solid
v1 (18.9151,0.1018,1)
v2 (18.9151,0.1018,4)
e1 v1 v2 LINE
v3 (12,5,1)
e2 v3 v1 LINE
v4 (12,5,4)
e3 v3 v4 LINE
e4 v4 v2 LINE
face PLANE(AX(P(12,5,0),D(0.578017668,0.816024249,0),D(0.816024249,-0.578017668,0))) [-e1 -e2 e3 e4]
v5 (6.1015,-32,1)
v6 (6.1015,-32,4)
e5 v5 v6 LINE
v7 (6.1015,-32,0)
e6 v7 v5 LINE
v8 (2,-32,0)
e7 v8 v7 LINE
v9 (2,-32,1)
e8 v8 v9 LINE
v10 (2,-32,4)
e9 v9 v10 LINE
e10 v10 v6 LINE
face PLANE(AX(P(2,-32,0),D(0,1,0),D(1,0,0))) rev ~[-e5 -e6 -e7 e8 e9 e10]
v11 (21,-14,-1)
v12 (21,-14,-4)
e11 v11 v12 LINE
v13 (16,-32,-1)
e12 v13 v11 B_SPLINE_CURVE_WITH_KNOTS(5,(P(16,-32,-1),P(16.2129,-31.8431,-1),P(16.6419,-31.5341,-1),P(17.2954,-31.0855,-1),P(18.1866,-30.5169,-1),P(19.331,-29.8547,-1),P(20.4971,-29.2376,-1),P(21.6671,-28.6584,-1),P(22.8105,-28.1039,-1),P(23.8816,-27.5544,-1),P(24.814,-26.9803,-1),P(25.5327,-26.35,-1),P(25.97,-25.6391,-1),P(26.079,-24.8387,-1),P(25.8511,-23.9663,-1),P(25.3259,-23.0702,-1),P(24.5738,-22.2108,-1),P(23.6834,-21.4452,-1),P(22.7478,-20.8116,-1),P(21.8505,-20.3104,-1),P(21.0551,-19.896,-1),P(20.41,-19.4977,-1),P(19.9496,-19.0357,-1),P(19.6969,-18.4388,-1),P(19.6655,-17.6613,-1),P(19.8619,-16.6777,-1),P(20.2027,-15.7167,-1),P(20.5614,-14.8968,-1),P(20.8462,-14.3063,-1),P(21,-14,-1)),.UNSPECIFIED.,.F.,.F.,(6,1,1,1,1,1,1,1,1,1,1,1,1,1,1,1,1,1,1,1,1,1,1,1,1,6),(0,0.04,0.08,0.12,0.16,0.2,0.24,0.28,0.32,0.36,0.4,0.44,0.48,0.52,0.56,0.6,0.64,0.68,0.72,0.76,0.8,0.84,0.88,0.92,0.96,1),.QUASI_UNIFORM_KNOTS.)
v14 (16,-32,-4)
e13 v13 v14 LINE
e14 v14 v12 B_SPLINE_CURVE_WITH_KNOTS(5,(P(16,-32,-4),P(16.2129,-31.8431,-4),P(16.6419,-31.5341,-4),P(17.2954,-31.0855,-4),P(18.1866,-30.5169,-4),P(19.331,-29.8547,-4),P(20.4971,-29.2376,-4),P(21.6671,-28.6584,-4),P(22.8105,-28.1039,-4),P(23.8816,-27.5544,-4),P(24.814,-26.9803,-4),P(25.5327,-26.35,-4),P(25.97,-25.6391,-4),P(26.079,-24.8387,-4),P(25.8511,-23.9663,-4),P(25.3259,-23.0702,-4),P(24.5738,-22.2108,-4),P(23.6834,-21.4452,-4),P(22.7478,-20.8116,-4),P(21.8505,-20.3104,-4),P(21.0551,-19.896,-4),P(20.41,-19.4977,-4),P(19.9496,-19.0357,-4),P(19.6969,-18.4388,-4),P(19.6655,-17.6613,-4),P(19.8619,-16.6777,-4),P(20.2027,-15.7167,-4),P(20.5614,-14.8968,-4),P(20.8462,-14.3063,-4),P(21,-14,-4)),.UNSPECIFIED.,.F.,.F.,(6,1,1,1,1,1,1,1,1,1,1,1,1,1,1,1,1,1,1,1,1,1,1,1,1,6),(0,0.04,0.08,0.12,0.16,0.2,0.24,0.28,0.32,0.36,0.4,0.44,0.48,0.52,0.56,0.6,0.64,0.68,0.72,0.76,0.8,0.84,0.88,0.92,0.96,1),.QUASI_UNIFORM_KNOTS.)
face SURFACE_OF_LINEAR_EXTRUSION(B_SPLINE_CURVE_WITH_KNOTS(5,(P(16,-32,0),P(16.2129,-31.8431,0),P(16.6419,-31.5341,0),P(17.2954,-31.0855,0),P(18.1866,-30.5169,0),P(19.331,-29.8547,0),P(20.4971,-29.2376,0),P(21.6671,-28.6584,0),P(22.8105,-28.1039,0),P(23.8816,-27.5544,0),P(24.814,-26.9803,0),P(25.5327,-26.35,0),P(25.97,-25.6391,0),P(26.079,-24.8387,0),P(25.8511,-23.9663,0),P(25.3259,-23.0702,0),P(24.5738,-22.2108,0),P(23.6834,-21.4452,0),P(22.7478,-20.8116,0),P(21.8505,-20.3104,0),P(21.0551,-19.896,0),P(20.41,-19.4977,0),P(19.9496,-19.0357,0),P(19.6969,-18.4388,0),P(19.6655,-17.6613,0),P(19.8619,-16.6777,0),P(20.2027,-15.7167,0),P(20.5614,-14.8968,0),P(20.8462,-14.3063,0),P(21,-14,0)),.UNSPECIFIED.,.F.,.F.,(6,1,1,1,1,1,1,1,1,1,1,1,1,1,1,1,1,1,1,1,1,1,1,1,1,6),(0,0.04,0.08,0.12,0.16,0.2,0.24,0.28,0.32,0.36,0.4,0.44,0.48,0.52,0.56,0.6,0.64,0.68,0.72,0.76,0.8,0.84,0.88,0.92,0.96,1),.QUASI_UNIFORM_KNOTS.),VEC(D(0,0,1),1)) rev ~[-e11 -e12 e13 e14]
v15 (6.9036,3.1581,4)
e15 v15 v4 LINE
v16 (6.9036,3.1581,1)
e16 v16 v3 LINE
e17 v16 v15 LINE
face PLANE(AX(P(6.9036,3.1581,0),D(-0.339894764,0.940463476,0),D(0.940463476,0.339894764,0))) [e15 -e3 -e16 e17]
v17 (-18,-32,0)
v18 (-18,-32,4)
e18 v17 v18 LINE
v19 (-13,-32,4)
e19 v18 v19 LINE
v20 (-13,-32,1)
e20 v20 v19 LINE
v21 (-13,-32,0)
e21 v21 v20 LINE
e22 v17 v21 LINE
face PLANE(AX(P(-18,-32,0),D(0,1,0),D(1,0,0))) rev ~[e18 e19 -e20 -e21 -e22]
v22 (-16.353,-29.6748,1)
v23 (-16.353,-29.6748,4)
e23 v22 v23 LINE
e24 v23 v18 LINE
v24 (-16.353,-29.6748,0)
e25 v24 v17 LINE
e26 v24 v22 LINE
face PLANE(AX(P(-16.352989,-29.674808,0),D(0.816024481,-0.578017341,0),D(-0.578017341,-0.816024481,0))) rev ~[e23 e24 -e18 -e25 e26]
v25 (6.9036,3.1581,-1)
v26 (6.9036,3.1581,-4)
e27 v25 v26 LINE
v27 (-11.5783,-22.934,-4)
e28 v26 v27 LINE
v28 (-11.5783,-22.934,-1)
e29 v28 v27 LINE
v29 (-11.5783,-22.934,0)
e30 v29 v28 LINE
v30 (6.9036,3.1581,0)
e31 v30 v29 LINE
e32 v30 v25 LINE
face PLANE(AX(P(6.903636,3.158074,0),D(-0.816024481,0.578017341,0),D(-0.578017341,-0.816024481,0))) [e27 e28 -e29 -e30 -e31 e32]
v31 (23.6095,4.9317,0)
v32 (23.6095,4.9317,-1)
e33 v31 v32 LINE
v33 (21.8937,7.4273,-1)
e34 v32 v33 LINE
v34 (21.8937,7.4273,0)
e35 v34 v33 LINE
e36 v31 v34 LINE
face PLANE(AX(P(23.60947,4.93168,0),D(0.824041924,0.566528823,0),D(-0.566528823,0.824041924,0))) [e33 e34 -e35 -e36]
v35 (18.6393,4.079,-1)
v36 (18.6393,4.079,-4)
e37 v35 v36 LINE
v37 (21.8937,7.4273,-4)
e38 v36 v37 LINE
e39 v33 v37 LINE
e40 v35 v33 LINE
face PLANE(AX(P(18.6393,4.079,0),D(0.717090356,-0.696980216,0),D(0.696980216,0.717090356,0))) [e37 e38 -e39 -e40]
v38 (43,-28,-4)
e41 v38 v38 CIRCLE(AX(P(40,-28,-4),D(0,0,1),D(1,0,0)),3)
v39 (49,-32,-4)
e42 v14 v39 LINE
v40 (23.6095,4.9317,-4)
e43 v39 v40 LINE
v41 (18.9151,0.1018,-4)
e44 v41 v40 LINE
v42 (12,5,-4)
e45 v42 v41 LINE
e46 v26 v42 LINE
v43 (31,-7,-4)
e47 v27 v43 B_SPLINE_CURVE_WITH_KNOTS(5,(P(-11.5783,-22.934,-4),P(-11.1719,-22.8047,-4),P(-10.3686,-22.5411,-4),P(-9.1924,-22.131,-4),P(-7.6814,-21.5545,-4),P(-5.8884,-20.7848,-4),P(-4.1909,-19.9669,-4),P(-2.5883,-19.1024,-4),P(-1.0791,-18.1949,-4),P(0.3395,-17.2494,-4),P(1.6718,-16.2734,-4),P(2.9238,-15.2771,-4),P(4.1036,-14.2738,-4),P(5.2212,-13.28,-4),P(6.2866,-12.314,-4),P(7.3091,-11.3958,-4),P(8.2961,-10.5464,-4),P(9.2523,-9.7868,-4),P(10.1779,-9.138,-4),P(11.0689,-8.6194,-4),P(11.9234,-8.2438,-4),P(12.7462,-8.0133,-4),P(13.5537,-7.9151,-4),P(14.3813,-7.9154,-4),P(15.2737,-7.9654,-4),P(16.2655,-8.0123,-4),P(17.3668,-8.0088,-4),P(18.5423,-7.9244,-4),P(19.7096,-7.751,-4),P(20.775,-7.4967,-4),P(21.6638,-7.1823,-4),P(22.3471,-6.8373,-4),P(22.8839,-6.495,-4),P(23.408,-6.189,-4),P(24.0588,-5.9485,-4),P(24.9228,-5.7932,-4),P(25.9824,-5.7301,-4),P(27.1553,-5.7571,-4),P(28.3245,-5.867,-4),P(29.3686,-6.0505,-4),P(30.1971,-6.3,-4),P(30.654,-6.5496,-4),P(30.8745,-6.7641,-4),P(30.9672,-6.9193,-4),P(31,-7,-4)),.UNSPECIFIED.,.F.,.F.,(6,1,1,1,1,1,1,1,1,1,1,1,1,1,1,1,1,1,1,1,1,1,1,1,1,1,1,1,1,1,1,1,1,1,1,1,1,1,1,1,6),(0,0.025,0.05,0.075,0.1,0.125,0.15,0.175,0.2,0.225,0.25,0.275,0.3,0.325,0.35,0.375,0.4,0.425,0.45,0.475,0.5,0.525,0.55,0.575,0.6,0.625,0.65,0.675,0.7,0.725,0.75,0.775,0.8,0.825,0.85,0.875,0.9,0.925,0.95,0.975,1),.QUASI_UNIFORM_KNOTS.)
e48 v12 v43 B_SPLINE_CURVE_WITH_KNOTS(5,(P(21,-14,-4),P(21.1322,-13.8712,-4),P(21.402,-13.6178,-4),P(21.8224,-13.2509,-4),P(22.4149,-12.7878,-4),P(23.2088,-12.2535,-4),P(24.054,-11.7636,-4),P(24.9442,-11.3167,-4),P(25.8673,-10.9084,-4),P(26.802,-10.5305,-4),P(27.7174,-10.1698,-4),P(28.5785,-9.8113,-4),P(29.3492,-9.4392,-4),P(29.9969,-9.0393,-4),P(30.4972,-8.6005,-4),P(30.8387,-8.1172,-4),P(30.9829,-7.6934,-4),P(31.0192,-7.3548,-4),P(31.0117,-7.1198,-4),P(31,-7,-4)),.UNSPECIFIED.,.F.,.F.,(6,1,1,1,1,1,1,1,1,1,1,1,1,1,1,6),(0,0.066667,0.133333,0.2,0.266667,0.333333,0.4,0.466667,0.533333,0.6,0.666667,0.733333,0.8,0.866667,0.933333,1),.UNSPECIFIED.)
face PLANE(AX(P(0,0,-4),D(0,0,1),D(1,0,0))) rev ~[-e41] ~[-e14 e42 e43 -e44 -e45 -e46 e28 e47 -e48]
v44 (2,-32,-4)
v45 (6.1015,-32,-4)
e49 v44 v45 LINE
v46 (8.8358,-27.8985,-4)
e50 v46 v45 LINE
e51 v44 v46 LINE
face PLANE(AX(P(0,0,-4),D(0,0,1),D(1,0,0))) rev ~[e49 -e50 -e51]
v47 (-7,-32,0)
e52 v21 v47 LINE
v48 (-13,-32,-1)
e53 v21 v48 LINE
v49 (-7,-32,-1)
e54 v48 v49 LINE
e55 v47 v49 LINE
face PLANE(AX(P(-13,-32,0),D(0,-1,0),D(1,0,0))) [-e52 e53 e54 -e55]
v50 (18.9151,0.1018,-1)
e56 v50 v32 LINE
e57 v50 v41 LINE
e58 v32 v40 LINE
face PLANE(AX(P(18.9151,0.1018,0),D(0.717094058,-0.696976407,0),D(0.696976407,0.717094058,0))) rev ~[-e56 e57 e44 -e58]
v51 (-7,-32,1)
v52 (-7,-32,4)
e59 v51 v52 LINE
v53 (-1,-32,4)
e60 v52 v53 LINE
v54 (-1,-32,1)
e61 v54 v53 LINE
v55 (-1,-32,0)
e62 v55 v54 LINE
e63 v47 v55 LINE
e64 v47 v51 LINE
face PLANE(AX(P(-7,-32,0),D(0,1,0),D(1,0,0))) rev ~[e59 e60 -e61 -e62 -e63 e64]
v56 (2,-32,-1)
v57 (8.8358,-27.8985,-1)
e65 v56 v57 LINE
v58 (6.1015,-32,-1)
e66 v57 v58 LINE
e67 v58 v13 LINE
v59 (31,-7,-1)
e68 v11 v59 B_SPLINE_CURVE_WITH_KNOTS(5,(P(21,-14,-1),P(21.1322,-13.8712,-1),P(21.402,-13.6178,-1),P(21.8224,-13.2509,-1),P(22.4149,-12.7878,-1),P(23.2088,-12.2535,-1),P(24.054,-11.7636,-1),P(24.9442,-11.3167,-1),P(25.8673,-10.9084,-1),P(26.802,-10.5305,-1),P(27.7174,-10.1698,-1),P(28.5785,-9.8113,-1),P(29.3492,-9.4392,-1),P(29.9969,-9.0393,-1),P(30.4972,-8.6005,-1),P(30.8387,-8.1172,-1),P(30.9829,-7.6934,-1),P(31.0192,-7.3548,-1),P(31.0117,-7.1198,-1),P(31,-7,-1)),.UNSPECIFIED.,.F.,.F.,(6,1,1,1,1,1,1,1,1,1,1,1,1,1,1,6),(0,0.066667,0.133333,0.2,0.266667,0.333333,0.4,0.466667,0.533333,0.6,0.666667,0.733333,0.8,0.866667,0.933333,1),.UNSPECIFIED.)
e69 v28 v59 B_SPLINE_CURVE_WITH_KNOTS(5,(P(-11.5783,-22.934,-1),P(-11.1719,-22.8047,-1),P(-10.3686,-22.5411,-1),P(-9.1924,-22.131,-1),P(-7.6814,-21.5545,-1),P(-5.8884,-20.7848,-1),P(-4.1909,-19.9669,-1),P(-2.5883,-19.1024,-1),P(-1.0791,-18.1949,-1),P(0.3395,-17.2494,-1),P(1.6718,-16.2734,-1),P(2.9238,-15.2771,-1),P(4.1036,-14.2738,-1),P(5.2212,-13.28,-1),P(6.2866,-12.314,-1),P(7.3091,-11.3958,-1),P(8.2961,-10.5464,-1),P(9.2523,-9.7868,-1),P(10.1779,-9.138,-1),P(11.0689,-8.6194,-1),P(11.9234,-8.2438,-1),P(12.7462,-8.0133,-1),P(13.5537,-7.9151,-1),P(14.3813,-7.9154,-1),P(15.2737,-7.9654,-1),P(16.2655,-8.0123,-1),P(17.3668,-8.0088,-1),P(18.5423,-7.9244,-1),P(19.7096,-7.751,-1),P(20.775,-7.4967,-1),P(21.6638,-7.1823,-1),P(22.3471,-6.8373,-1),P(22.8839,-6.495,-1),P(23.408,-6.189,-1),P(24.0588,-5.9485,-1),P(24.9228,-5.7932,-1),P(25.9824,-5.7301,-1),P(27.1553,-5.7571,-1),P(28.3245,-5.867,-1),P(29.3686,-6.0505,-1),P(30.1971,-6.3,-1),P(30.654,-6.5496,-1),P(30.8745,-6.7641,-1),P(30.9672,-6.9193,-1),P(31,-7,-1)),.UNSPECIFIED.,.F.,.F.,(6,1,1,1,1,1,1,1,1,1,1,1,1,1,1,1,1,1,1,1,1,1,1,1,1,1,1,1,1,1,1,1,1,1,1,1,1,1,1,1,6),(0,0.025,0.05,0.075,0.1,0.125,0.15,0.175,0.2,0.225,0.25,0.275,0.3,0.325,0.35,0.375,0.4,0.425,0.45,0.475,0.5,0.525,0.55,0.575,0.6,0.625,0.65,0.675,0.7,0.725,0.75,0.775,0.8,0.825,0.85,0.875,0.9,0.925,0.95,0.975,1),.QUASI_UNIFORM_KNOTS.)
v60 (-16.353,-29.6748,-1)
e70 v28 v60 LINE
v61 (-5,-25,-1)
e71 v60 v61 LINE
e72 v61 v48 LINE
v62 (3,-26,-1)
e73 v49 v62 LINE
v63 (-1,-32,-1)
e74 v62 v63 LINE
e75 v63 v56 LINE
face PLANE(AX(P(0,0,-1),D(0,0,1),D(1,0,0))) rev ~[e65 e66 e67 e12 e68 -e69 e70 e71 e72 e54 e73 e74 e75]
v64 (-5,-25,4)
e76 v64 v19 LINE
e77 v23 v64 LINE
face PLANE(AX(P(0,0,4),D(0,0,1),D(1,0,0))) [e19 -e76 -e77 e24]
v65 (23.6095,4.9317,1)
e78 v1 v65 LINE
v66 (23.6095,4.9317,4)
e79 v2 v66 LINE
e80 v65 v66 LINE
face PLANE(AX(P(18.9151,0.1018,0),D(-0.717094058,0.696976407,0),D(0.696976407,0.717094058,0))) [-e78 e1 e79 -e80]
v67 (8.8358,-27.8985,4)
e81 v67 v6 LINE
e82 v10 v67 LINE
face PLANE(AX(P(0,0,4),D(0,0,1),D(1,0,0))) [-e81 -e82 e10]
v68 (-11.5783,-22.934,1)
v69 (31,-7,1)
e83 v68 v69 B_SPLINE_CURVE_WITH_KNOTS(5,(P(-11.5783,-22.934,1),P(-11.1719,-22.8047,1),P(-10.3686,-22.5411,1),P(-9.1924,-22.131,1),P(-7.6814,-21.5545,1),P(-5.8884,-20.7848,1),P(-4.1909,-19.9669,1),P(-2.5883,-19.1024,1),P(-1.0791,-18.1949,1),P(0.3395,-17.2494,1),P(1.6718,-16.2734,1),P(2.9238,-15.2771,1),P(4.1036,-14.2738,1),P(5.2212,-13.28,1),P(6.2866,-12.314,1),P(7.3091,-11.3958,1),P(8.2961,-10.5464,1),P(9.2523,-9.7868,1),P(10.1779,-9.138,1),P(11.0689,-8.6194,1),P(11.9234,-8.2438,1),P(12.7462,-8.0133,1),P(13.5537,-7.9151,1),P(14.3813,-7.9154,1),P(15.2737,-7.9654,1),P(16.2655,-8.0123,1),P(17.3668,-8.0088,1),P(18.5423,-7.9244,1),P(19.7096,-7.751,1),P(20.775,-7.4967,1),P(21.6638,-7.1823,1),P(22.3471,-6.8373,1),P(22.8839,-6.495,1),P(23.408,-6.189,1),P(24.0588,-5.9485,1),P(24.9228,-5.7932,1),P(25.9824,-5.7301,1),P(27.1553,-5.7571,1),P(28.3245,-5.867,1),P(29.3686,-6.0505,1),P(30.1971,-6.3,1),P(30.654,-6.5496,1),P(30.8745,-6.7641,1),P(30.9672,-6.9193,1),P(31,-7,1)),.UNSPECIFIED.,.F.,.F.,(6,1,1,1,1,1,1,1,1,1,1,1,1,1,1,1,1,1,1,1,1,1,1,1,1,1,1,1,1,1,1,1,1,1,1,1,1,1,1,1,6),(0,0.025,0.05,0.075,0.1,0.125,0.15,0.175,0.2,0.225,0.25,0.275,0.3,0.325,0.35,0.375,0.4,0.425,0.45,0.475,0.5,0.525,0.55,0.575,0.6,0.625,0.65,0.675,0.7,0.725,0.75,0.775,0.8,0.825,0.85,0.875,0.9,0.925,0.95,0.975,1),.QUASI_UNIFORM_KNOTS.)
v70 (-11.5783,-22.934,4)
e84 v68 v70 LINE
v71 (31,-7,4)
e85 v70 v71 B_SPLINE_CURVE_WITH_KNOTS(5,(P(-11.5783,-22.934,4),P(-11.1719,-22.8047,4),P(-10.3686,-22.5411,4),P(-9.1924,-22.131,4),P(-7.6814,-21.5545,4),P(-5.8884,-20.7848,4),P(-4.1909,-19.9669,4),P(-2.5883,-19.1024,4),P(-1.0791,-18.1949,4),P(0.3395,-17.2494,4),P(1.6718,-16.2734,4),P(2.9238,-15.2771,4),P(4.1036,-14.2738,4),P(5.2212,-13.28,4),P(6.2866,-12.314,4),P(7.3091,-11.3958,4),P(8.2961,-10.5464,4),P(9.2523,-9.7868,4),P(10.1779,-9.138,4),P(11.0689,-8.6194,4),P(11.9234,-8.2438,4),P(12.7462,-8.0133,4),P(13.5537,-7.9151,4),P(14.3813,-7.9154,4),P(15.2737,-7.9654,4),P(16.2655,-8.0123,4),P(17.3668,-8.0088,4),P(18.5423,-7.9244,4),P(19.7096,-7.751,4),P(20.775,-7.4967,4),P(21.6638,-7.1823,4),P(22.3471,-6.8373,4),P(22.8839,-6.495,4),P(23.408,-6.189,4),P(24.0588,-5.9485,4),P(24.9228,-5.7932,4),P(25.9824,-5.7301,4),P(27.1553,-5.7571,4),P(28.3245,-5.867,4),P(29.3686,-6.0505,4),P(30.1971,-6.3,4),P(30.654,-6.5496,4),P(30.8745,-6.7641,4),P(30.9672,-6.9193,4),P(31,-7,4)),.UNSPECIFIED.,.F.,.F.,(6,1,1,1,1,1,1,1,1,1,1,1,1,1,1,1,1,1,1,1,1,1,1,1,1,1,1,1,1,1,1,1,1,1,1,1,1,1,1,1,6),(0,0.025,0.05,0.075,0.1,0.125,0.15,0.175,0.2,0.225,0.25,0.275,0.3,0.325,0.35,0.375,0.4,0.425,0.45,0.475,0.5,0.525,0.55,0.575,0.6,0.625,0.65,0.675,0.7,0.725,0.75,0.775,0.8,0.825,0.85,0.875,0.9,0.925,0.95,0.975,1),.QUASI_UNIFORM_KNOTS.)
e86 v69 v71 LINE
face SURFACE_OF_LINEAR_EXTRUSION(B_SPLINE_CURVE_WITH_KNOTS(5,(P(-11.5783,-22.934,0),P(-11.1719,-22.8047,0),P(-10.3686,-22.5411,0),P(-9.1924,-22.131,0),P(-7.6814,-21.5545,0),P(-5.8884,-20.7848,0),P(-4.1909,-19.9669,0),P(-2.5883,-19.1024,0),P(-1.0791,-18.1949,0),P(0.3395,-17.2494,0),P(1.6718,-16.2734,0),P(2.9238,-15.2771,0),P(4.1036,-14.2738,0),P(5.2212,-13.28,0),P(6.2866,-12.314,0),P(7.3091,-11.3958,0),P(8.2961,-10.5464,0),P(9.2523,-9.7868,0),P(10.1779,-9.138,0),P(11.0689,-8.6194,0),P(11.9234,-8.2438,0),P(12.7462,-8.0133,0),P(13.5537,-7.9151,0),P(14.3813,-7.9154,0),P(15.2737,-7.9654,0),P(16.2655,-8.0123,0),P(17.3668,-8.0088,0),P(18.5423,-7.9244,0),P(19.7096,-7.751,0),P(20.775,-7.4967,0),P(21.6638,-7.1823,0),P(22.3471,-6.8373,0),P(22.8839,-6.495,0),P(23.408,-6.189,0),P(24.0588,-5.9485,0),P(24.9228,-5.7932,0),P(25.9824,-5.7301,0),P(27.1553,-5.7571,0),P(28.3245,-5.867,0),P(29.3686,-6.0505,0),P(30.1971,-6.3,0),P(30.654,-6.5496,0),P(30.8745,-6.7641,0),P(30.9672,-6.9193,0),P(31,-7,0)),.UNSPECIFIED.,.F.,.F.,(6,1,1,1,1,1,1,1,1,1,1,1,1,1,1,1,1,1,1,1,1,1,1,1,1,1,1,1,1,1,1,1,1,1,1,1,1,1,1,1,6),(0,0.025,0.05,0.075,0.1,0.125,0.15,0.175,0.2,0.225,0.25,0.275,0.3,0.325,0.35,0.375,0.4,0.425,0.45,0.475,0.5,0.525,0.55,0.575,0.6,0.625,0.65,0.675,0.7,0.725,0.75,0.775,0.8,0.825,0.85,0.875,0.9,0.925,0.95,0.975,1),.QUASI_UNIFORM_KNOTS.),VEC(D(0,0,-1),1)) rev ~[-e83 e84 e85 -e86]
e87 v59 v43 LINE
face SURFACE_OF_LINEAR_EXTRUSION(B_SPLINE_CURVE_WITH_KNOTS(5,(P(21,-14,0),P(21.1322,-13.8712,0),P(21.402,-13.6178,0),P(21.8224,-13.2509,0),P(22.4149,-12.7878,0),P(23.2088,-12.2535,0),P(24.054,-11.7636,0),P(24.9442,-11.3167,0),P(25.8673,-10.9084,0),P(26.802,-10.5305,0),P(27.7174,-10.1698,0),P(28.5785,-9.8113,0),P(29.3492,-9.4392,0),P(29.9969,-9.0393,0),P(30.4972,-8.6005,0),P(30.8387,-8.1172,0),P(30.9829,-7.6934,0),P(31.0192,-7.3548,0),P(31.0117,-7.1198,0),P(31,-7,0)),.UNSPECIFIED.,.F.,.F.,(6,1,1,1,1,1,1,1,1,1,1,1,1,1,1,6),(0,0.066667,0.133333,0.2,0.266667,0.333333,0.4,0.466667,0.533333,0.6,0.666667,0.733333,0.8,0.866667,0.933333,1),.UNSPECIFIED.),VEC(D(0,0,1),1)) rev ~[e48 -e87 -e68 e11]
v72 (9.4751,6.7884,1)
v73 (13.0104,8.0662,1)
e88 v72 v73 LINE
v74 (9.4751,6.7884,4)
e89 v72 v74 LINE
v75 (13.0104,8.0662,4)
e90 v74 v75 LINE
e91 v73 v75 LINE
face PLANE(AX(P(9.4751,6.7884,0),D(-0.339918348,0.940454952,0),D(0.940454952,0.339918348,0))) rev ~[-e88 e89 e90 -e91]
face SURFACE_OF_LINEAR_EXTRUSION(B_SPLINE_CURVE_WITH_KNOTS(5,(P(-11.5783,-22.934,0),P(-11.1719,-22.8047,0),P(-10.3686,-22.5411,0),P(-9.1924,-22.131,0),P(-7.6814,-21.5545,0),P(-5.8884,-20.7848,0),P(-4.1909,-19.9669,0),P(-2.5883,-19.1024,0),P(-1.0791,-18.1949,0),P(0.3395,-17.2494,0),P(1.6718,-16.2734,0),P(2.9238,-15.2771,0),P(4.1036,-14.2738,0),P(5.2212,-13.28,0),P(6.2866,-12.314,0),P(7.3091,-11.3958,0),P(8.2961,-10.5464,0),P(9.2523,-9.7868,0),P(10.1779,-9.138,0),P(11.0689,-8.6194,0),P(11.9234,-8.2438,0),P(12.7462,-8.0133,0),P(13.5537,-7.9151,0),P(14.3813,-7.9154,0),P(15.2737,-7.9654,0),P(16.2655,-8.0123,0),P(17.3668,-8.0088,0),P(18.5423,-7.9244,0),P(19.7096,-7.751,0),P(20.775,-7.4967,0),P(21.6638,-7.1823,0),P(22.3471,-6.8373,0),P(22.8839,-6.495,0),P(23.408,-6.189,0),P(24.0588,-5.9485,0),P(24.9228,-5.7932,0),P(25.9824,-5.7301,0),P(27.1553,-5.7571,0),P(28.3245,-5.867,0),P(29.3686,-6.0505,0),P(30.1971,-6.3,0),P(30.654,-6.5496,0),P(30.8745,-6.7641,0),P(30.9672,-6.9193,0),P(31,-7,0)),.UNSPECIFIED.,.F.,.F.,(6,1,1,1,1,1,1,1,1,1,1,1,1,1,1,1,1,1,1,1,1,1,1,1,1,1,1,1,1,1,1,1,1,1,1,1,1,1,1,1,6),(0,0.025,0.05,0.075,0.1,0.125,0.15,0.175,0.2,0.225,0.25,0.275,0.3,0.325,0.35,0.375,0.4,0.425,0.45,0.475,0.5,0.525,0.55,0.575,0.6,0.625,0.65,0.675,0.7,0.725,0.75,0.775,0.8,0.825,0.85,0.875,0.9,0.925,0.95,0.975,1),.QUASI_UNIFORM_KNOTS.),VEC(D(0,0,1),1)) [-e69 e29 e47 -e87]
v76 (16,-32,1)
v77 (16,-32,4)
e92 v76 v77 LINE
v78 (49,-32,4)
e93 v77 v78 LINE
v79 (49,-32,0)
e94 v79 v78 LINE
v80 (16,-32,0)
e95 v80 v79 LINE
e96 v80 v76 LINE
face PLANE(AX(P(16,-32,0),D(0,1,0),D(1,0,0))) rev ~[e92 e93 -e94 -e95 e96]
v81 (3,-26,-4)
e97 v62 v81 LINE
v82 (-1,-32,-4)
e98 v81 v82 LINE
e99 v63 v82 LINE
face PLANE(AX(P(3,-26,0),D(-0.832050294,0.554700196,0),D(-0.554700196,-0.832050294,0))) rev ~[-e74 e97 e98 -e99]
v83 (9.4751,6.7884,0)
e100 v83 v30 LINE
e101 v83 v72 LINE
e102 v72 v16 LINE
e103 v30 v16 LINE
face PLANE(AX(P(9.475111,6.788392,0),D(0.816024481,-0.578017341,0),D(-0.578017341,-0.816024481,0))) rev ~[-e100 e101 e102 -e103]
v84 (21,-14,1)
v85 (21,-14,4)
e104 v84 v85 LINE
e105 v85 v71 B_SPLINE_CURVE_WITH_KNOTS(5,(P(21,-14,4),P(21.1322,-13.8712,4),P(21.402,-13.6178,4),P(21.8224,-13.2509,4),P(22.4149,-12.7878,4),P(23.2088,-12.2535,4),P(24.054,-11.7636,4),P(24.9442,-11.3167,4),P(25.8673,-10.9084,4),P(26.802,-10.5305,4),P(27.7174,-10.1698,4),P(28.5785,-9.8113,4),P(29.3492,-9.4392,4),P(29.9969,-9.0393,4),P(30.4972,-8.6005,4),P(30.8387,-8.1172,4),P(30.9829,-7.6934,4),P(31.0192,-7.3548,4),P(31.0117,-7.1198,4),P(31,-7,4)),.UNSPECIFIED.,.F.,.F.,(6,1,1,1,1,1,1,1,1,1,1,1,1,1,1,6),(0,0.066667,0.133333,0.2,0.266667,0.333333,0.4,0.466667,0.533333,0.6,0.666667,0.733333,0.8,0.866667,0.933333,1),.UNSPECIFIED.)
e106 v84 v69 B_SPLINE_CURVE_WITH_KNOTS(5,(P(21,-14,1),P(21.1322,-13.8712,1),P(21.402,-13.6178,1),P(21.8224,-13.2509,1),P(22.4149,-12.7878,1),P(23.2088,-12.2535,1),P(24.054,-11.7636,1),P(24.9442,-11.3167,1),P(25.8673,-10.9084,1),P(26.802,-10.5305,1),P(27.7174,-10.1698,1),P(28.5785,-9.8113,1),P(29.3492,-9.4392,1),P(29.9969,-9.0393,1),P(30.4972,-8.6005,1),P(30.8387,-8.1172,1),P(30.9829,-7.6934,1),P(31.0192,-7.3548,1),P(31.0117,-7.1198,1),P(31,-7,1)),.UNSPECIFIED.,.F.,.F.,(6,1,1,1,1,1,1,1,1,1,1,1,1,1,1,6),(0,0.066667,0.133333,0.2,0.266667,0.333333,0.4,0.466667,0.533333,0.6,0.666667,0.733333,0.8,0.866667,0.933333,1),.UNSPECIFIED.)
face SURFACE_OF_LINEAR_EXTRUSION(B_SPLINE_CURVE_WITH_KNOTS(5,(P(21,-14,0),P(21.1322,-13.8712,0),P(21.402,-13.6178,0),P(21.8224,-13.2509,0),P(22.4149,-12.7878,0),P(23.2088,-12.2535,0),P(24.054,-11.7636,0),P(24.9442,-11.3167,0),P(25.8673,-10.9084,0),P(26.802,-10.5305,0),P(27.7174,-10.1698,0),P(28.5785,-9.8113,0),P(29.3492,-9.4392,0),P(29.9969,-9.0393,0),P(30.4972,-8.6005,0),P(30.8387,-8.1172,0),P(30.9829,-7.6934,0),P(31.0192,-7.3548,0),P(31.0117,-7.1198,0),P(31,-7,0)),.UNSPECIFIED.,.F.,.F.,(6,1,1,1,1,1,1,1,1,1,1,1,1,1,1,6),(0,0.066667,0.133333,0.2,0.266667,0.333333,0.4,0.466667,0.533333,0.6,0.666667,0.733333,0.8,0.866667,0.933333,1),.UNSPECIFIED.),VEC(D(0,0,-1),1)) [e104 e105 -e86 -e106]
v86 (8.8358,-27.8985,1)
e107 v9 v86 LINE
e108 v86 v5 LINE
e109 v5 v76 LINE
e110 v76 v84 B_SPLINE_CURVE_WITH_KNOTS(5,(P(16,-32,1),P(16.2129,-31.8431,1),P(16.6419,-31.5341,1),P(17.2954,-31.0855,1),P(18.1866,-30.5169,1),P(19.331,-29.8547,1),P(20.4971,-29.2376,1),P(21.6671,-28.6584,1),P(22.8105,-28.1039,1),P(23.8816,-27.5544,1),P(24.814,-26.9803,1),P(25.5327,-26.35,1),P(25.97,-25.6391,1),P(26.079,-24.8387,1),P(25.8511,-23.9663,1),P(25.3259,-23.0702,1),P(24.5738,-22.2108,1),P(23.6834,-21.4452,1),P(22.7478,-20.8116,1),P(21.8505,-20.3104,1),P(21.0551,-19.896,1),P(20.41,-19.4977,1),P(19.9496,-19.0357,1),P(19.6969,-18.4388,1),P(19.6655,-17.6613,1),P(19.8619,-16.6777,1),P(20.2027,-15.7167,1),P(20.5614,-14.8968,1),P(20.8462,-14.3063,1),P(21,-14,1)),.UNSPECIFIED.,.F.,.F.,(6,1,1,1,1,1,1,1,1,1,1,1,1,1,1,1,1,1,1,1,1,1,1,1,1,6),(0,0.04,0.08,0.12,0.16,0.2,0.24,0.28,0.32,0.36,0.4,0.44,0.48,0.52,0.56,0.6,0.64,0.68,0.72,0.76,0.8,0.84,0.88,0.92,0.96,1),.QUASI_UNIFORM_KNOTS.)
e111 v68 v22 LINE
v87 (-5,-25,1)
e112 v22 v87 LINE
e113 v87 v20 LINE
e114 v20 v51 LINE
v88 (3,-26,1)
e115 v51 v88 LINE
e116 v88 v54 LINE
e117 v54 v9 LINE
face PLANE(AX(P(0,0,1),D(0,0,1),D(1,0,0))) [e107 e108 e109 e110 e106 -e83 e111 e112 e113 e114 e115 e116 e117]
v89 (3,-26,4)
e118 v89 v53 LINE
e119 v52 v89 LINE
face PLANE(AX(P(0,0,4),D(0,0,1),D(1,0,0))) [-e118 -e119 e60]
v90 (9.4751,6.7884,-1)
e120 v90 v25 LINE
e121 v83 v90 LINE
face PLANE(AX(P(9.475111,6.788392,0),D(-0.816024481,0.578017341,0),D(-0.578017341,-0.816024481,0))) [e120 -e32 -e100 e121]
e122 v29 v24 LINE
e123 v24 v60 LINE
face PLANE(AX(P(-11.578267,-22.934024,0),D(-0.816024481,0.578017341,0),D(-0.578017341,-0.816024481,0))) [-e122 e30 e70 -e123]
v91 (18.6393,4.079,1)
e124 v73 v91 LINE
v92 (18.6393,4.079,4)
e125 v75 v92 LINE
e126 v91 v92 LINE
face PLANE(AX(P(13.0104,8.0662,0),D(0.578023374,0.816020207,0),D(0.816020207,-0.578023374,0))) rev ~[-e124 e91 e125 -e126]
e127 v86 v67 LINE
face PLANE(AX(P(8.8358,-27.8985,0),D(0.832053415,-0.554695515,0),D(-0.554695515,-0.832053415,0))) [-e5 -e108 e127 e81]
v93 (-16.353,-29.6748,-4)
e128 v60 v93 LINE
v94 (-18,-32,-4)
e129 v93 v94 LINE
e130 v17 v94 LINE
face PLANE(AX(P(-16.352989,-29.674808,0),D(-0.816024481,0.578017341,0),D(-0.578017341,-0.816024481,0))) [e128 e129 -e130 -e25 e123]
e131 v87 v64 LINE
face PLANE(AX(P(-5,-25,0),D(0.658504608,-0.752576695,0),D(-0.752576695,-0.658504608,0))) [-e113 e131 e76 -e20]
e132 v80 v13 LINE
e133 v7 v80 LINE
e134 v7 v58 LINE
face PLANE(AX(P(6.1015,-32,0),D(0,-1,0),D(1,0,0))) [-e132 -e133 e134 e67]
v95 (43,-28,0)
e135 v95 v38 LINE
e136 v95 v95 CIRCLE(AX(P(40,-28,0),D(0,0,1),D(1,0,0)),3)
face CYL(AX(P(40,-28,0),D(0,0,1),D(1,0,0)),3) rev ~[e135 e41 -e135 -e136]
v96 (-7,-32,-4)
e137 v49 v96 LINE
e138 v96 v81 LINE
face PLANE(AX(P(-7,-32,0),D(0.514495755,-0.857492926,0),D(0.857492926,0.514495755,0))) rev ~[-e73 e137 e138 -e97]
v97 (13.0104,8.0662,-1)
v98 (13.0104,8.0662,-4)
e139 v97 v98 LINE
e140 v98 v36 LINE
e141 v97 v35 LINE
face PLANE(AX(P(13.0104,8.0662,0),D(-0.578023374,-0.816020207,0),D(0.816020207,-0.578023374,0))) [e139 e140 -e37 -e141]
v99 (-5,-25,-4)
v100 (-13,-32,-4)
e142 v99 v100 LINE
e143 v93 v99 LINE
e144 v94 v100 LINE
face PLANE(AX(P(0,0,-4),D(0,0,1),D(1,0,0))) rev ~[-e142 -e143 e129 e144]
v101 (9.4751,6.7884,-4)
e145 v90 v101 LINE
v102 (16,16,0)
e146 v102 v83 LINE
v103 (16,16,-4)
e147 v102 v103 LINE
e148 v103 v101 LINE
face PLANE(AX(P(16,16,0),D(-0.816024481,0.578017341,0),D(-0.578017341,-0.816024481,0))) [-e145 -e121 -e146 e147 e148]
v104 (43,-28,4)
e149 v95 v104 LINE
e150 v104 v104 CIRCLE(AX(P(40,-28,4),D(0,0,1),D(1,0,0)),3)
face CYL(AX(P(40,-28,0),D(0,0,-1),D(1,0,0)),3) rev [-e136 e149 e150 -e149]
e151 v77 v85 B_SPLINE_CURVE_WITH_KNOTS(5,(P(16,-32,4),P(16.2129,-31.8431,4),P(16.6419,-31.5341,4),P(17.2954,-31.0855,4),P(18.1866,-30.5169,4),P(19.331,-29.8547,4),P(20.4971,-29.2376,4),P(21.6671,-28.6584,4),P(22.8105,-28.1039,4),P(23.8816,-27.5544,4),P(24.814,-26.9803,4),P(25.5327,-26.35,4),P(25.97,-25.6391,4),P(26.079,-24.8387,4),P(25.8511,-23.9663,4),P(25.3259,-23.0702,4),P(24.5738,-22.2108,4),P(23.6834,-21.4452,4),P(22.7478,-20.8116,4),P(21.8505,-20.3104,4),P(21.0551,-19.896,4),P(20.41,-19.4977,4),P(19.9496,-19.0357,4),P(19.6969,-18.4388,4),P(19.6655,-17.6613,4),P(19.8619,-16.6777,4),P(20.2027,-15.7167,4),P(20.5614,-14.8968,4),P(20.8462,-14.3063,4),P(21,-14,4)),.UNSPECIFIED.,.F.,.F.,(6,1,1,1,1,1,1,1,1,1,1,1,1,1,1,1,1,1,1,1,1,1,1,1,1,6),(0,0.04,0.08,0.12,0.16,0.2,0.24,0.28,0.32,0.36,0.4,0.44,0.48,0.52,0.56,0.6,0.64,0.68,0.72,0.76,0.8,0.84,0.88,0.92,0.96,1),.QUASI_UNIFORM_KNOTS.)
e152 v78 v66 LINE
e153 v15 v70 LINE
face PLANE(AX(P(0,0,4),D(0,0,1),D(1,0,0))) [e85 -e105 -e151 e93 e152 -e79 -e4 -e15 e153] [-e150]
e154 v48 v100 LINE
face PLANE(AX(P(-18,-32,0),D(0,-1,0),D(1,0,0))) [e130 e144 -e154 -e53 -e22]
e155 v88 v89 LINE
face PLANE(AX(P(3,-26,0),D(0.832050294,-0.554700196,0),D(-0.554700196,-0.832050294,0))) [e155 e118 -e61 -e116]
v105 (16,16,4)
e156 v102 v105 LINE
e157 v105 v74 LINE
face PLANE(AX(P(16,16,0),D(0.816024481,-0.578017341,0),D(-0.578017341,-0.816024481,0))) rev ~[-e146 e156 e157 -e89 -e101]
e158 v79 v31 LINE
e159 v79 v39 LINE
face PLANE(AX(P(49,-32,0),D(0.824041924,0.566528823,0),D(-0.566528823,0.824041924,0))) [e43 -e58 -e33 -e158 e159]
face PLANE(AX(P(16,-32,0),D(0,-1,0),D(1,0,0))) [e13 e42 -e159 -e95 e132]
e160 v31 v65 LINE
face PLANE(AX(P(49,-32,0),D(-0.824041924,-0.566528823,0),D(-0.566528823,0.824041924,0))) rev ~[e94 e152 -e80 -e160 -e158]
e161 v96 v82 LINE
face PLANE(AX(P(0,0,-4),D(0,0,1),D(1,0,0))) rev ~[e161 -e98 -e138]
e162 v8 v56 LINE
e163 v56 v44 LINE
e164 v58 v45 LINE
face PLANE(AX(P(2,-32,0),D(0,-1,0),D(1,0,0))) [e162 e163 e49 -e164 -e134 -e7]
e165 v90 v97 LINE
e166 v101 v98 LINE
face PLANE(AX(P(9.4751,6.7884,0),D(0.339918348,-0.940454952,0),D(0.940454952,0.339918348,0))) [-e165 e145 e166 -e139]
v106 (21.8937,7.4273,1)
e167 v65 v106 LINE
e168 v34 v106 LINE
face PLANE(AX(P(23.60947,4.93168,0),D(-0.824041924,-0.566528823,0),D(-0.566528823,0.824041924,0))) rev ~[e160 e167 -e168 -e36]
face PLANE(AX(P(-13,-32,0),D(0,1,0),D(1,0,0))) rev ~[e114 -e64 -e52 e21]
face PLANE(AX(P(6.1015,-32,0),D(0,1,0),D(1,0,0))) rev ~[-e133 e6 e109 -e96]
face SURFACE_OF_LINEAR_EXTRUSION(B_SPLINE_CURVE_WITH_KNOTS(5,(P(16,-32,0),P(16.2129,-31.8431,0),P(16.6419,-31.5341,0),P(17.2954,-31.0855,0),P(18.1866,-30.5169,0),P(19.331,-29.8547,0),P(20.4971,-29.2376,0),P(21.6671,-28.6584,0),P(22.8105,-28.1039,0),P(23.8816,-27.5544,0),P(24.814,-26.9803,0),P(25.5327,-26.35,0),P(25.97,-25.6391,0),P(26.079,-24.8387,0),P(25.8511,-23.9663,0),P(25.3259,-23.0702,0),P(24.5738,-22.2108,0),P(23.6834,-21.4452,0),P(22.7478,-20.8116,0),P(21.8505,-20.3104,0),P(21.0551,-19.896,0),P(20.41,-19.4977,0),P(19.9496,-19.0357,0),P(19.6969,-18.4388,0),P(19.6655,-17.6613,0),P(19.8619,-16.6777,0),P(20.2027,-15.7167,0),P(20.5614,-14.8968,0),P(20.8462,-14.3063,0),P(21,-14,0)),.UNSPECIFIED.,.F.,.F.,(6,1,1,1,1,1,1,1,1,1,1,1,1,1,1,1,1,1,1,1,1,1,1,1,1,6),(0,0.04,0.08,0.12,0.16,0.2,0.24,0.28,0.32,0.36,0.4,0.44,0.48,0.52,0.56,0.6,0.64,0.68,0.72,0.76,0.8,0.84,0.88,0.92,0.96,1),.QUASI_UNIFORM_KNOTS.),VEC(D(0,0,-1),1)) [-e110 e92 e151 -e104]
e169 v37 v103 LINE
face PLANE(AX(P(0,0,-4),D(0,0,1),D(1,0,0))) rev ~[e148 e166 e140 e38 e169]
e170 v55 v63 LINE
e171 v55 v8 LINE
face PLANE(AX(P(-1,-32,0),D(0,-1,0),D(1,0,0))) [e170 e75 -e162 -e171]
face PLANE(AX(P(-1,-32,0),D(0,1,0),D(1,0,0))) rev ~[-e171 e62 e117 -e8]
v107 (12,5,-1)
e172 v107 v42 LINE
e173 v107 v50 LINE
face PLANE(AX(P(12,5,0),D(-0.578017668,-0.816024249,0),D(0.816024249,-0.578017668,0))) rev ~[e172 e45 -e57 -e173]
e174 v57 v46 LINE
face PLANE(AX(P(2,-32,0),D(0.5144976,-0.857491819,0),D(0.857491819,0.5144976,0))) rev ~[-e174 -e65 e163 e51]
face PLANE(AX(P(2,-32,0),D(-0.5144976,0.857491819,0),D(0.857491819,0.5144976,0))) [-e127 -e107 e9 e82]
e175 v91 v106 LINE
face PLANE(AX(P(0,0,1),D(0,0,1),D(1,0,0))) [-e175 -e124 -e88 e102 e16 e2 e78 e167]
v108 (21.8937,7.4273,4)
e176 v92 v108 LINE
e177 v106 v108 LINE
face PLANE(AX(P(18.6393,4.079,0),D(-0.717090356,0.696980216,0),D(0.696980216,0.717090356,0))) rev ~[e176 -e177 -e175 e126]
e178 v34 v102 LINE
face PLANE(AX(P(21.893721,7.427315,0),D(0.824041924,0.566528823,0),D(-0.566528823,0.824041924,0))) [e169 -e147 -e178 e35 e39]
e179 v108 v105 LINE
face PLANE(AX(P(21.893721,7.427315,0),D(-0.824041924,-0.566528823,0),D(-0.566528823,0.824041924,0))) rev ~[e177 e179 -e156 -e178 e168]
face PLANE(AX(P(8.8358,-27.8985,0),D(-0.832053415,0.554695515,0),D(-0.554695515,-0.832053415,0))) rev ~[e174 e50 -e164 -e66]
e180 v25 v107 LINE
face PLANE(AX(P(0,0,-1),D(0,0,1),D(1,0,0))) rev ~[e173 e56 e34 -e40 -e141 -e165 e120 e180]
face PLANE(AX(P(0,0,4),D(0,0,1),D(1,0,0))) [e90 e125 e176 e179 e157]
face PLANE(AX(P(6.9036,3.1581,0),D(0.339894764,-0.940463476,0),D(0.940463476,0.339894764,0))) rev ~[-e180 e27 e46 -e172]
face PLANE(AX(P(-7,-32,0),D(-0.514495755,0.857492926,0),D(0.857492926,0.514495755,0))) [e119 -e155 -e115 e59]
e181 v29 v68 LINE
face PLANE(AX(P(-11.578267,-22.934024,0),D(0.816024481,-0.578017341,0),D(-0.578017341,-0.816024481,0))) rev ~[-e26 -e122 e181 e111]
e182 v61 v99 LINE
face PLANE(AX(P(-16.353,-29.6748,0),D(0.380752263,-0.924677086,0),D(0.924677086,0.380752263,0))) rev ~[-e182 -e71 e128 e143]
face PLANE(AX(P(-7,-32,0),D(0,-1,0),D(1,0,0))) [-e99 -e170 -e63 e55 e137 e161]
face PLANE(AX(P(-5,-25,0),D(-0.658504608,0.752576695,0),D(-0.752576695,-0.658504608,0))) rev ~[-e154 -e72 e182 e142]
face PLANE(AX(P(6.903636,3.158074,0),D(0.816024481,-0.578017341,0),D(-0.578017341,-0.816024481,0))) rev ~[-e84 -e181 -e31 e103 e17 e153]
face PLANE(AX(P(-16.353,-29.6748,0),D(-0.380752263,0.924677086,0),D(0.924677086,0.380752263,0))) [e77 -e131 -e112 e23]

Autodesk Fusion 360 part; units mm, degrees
sketch "Sketch1" plane through (0, 0, 0) normal (0, 0, 1) x (1, 0, 0)
  line L0 (16, -32) -> (49, -32)
  line L1 (49, -32) -> (16, 16)
  line L2 (16, 16) -> (-18, -32)
  line L3 (-18, -32) -> (16, -32)
  line L4 (6.9036, 3.1581) -> (12, 5)
  line L5 (12, 5) -> (18.9151, 0.1018)
  line L6 (18.9151, 0.1018) -> (23.6095, 4.9317)
  line L7 (9.4751, 6.7884) -> (13.0104, 8.0662)
  line L8 (13.0104, 8.0662) -> (18.6393, 4.079)
  line L9 (18.6393, 4.079) -> (21.8937, 7.4273)
  spline S0 degree 5 poles (-11.5783, -22.934) (-11.1719, -22.8047) (-10.3686, -22.5411) (-9.1924, -22.131) (-7.6814, -21.5545) (-5.8884, -20.7848) (-4.1909, -19.9669) (-2.5883, -19.1024) (-1.0791, -18.1949) (0.3395, -17.2494) (1.6718, -16.2734) (2.9238, -15.2771) (4.1036, -14.2738) (5.2212, -13.28) (6.2866, -12.314) (7.3091, -11.3958) (8.2961, -10.5464) (9.2523, -9.7868) (10.1779, -9.138) (11.0689, -8.6194) (11.9234, -8.2438) (12.7462, -8.0133) (13.5537, -7.9151) (14.3813, -7.9154) (15.2737, -7.9654) (16.2655, -8.0123) (17.3668, -8.0088) (18.5423, -7.9244) (19.7096, -7.751) (20.775, -7.4967) (21.6638, -7.1823) (22.3471, -6.8373) (22.8839, -6.495) (23.408, -6.189) (24.0588, -5.9485) (24.9228, -5.7932) (25.9824, -5.7301) (27.1553, -5.7571) (28.3245, -5.867) (29.3686, -6.0505) (30.1971, -6.3) (30.654, -6.5496) (30.8745, -6.7641) (30.9672, -6.9193) (31, -7) knots 0 0 0 0 0 0 0.025 0.05 0.075 0.1 0.125 0.15 0.175 0.2 0.225 0.25 0.275 0.3 0.325 0.35 0.375 0.4 0.425 0.45 0.475 0.5 0.525 0.55 0.575 0.6 0.625 0.65 0.675 0.7 0.725 0.75 0.775 0.8 0.825 0.85 0.875 0.9 0.925 0.95 0.975 1 1 1 1 1 1
  spline S1 degree 5 poles (16, -32) (16.2129, -31.8431) (16.6419, -31.5341) (17.2954, -31.0855) (18.1866, -30.5169) (19.331, -29.8547) (20.4971, -29.2376) (21.6671, -28.6584) (22.8105, -28.1039) (23.8816, -27.5544) (24.814, -26.9803) (25.5327, -26.35) (25.97, -25.6391) (26.079, -24.8387) (25.8511, -23.9663) (25.3259, -23.0702) (24.5738, -22.2108) (23.6834, -21.4452) (22.7478, -20.8116) (21.8505, -20.3104) (21.0551, -19.896) (20.41, -19.4977) (19.9496, -19.0357) (19.6969, -18.4388) (19.6655, -17.6613) (19.8619, -16.6777) (20.2027, -15.7167) (20.5614, -14.8968) (20.8462, -14.3063) (21, -14) knots 0 0 0 0 0 0 0.04 0.08 0.12 0.16 0.2 0.24 0.28 0.32 0.36 0.4 0.44 0.48 0.52 0.56 0.6 0.64 0.68 0.72 0.76 0.8 0.84 0.88 0.92 0.96 1 1 1 1 1 1
  spline S2 degree 5 poles (21, -14) (21.1322, -13.8712) (21.402, -13.6178) (21.8224, -13.2509) (22.4149, -12.7878) (23.2088, -12.2535) (24.054, -11.7636) (24.9442, -11.3167) (25.8673, -10.9084) (26.802, -10.5305) (27.7174, -10.1698) (28.5785, -9.8113) (29.3492, -9.4392) (29.9969, -9.0393) (30.4972, -8.6005) (30.8387, -8.1172) (30.9829, -7.6934) (31.0192, -7.3548) (31.0117, -7.1198) (31, -7) knots 0 0 0 0 0 0 0.066667 0.133333 0.2 0.266667 0.333333 0.4 0.466667 0.533333 0.6 0.666667 0.733333 0.8 0.866667 0.933333 1 1 1 1 1 1
  line L10 (-16.353, -29.6748) -> (-5, -25)
  line L11 (-5, -25) -> (-13, -32)
  line L12 (-7, -32) -> (3, -26)
  line L13 (3, -26) -> (-1, -32)
  line L14 (2, -32) -> (8.8358, -27.8985)
  line L15 (8.8358, -27.8985) -> (6.1015, -32)
  circle A0 centre (40, -28) radius 3
  point P0 (2, -16)
  point P1 (9, -10)
  point P2 (13, -8)
  point P3 (17, -8)
  point P4 (22, -7)
  point P5 (24, -6)
  point P6 (29, -6)
  point P7 (23, -28)
  point P8 (26, -25)
  point P9 (23, -21)
  point P10 (20, -19)
  point P11 (25.5558, -11.0517)
  point P12 (30, -9)
extrude "Extrude1" add sketch "Sketch1" along normal mid plane 8 contours L0 L1 L2 L4 L5 L6 S0 S1 S2 | L3 L14 L15 | L1 L2 L7 L8 L9 | L3 L12 L13 | L2 L3 L10 L11 makes body 1 at (30.5652, -19.508, 4) makes body 2 at (16.9681, 10.4978, 4) makes body 3 at (-12.5687, -28.1165, 1.3333) makes body 4 at (-3.6667, -30, 1.3333) makes body 5 at (4.2786, -30.6328, 1.3333)
extrude "Extrude2" add sketch "Sketch1" along normal mid plane 2 contours L2 L3 S0 S1 S2 L10 L11 L12 L13 L14 L15 | L1 L2 L4 L5 L6 L7 L8 L9 bodies 1 2 3 4 5
